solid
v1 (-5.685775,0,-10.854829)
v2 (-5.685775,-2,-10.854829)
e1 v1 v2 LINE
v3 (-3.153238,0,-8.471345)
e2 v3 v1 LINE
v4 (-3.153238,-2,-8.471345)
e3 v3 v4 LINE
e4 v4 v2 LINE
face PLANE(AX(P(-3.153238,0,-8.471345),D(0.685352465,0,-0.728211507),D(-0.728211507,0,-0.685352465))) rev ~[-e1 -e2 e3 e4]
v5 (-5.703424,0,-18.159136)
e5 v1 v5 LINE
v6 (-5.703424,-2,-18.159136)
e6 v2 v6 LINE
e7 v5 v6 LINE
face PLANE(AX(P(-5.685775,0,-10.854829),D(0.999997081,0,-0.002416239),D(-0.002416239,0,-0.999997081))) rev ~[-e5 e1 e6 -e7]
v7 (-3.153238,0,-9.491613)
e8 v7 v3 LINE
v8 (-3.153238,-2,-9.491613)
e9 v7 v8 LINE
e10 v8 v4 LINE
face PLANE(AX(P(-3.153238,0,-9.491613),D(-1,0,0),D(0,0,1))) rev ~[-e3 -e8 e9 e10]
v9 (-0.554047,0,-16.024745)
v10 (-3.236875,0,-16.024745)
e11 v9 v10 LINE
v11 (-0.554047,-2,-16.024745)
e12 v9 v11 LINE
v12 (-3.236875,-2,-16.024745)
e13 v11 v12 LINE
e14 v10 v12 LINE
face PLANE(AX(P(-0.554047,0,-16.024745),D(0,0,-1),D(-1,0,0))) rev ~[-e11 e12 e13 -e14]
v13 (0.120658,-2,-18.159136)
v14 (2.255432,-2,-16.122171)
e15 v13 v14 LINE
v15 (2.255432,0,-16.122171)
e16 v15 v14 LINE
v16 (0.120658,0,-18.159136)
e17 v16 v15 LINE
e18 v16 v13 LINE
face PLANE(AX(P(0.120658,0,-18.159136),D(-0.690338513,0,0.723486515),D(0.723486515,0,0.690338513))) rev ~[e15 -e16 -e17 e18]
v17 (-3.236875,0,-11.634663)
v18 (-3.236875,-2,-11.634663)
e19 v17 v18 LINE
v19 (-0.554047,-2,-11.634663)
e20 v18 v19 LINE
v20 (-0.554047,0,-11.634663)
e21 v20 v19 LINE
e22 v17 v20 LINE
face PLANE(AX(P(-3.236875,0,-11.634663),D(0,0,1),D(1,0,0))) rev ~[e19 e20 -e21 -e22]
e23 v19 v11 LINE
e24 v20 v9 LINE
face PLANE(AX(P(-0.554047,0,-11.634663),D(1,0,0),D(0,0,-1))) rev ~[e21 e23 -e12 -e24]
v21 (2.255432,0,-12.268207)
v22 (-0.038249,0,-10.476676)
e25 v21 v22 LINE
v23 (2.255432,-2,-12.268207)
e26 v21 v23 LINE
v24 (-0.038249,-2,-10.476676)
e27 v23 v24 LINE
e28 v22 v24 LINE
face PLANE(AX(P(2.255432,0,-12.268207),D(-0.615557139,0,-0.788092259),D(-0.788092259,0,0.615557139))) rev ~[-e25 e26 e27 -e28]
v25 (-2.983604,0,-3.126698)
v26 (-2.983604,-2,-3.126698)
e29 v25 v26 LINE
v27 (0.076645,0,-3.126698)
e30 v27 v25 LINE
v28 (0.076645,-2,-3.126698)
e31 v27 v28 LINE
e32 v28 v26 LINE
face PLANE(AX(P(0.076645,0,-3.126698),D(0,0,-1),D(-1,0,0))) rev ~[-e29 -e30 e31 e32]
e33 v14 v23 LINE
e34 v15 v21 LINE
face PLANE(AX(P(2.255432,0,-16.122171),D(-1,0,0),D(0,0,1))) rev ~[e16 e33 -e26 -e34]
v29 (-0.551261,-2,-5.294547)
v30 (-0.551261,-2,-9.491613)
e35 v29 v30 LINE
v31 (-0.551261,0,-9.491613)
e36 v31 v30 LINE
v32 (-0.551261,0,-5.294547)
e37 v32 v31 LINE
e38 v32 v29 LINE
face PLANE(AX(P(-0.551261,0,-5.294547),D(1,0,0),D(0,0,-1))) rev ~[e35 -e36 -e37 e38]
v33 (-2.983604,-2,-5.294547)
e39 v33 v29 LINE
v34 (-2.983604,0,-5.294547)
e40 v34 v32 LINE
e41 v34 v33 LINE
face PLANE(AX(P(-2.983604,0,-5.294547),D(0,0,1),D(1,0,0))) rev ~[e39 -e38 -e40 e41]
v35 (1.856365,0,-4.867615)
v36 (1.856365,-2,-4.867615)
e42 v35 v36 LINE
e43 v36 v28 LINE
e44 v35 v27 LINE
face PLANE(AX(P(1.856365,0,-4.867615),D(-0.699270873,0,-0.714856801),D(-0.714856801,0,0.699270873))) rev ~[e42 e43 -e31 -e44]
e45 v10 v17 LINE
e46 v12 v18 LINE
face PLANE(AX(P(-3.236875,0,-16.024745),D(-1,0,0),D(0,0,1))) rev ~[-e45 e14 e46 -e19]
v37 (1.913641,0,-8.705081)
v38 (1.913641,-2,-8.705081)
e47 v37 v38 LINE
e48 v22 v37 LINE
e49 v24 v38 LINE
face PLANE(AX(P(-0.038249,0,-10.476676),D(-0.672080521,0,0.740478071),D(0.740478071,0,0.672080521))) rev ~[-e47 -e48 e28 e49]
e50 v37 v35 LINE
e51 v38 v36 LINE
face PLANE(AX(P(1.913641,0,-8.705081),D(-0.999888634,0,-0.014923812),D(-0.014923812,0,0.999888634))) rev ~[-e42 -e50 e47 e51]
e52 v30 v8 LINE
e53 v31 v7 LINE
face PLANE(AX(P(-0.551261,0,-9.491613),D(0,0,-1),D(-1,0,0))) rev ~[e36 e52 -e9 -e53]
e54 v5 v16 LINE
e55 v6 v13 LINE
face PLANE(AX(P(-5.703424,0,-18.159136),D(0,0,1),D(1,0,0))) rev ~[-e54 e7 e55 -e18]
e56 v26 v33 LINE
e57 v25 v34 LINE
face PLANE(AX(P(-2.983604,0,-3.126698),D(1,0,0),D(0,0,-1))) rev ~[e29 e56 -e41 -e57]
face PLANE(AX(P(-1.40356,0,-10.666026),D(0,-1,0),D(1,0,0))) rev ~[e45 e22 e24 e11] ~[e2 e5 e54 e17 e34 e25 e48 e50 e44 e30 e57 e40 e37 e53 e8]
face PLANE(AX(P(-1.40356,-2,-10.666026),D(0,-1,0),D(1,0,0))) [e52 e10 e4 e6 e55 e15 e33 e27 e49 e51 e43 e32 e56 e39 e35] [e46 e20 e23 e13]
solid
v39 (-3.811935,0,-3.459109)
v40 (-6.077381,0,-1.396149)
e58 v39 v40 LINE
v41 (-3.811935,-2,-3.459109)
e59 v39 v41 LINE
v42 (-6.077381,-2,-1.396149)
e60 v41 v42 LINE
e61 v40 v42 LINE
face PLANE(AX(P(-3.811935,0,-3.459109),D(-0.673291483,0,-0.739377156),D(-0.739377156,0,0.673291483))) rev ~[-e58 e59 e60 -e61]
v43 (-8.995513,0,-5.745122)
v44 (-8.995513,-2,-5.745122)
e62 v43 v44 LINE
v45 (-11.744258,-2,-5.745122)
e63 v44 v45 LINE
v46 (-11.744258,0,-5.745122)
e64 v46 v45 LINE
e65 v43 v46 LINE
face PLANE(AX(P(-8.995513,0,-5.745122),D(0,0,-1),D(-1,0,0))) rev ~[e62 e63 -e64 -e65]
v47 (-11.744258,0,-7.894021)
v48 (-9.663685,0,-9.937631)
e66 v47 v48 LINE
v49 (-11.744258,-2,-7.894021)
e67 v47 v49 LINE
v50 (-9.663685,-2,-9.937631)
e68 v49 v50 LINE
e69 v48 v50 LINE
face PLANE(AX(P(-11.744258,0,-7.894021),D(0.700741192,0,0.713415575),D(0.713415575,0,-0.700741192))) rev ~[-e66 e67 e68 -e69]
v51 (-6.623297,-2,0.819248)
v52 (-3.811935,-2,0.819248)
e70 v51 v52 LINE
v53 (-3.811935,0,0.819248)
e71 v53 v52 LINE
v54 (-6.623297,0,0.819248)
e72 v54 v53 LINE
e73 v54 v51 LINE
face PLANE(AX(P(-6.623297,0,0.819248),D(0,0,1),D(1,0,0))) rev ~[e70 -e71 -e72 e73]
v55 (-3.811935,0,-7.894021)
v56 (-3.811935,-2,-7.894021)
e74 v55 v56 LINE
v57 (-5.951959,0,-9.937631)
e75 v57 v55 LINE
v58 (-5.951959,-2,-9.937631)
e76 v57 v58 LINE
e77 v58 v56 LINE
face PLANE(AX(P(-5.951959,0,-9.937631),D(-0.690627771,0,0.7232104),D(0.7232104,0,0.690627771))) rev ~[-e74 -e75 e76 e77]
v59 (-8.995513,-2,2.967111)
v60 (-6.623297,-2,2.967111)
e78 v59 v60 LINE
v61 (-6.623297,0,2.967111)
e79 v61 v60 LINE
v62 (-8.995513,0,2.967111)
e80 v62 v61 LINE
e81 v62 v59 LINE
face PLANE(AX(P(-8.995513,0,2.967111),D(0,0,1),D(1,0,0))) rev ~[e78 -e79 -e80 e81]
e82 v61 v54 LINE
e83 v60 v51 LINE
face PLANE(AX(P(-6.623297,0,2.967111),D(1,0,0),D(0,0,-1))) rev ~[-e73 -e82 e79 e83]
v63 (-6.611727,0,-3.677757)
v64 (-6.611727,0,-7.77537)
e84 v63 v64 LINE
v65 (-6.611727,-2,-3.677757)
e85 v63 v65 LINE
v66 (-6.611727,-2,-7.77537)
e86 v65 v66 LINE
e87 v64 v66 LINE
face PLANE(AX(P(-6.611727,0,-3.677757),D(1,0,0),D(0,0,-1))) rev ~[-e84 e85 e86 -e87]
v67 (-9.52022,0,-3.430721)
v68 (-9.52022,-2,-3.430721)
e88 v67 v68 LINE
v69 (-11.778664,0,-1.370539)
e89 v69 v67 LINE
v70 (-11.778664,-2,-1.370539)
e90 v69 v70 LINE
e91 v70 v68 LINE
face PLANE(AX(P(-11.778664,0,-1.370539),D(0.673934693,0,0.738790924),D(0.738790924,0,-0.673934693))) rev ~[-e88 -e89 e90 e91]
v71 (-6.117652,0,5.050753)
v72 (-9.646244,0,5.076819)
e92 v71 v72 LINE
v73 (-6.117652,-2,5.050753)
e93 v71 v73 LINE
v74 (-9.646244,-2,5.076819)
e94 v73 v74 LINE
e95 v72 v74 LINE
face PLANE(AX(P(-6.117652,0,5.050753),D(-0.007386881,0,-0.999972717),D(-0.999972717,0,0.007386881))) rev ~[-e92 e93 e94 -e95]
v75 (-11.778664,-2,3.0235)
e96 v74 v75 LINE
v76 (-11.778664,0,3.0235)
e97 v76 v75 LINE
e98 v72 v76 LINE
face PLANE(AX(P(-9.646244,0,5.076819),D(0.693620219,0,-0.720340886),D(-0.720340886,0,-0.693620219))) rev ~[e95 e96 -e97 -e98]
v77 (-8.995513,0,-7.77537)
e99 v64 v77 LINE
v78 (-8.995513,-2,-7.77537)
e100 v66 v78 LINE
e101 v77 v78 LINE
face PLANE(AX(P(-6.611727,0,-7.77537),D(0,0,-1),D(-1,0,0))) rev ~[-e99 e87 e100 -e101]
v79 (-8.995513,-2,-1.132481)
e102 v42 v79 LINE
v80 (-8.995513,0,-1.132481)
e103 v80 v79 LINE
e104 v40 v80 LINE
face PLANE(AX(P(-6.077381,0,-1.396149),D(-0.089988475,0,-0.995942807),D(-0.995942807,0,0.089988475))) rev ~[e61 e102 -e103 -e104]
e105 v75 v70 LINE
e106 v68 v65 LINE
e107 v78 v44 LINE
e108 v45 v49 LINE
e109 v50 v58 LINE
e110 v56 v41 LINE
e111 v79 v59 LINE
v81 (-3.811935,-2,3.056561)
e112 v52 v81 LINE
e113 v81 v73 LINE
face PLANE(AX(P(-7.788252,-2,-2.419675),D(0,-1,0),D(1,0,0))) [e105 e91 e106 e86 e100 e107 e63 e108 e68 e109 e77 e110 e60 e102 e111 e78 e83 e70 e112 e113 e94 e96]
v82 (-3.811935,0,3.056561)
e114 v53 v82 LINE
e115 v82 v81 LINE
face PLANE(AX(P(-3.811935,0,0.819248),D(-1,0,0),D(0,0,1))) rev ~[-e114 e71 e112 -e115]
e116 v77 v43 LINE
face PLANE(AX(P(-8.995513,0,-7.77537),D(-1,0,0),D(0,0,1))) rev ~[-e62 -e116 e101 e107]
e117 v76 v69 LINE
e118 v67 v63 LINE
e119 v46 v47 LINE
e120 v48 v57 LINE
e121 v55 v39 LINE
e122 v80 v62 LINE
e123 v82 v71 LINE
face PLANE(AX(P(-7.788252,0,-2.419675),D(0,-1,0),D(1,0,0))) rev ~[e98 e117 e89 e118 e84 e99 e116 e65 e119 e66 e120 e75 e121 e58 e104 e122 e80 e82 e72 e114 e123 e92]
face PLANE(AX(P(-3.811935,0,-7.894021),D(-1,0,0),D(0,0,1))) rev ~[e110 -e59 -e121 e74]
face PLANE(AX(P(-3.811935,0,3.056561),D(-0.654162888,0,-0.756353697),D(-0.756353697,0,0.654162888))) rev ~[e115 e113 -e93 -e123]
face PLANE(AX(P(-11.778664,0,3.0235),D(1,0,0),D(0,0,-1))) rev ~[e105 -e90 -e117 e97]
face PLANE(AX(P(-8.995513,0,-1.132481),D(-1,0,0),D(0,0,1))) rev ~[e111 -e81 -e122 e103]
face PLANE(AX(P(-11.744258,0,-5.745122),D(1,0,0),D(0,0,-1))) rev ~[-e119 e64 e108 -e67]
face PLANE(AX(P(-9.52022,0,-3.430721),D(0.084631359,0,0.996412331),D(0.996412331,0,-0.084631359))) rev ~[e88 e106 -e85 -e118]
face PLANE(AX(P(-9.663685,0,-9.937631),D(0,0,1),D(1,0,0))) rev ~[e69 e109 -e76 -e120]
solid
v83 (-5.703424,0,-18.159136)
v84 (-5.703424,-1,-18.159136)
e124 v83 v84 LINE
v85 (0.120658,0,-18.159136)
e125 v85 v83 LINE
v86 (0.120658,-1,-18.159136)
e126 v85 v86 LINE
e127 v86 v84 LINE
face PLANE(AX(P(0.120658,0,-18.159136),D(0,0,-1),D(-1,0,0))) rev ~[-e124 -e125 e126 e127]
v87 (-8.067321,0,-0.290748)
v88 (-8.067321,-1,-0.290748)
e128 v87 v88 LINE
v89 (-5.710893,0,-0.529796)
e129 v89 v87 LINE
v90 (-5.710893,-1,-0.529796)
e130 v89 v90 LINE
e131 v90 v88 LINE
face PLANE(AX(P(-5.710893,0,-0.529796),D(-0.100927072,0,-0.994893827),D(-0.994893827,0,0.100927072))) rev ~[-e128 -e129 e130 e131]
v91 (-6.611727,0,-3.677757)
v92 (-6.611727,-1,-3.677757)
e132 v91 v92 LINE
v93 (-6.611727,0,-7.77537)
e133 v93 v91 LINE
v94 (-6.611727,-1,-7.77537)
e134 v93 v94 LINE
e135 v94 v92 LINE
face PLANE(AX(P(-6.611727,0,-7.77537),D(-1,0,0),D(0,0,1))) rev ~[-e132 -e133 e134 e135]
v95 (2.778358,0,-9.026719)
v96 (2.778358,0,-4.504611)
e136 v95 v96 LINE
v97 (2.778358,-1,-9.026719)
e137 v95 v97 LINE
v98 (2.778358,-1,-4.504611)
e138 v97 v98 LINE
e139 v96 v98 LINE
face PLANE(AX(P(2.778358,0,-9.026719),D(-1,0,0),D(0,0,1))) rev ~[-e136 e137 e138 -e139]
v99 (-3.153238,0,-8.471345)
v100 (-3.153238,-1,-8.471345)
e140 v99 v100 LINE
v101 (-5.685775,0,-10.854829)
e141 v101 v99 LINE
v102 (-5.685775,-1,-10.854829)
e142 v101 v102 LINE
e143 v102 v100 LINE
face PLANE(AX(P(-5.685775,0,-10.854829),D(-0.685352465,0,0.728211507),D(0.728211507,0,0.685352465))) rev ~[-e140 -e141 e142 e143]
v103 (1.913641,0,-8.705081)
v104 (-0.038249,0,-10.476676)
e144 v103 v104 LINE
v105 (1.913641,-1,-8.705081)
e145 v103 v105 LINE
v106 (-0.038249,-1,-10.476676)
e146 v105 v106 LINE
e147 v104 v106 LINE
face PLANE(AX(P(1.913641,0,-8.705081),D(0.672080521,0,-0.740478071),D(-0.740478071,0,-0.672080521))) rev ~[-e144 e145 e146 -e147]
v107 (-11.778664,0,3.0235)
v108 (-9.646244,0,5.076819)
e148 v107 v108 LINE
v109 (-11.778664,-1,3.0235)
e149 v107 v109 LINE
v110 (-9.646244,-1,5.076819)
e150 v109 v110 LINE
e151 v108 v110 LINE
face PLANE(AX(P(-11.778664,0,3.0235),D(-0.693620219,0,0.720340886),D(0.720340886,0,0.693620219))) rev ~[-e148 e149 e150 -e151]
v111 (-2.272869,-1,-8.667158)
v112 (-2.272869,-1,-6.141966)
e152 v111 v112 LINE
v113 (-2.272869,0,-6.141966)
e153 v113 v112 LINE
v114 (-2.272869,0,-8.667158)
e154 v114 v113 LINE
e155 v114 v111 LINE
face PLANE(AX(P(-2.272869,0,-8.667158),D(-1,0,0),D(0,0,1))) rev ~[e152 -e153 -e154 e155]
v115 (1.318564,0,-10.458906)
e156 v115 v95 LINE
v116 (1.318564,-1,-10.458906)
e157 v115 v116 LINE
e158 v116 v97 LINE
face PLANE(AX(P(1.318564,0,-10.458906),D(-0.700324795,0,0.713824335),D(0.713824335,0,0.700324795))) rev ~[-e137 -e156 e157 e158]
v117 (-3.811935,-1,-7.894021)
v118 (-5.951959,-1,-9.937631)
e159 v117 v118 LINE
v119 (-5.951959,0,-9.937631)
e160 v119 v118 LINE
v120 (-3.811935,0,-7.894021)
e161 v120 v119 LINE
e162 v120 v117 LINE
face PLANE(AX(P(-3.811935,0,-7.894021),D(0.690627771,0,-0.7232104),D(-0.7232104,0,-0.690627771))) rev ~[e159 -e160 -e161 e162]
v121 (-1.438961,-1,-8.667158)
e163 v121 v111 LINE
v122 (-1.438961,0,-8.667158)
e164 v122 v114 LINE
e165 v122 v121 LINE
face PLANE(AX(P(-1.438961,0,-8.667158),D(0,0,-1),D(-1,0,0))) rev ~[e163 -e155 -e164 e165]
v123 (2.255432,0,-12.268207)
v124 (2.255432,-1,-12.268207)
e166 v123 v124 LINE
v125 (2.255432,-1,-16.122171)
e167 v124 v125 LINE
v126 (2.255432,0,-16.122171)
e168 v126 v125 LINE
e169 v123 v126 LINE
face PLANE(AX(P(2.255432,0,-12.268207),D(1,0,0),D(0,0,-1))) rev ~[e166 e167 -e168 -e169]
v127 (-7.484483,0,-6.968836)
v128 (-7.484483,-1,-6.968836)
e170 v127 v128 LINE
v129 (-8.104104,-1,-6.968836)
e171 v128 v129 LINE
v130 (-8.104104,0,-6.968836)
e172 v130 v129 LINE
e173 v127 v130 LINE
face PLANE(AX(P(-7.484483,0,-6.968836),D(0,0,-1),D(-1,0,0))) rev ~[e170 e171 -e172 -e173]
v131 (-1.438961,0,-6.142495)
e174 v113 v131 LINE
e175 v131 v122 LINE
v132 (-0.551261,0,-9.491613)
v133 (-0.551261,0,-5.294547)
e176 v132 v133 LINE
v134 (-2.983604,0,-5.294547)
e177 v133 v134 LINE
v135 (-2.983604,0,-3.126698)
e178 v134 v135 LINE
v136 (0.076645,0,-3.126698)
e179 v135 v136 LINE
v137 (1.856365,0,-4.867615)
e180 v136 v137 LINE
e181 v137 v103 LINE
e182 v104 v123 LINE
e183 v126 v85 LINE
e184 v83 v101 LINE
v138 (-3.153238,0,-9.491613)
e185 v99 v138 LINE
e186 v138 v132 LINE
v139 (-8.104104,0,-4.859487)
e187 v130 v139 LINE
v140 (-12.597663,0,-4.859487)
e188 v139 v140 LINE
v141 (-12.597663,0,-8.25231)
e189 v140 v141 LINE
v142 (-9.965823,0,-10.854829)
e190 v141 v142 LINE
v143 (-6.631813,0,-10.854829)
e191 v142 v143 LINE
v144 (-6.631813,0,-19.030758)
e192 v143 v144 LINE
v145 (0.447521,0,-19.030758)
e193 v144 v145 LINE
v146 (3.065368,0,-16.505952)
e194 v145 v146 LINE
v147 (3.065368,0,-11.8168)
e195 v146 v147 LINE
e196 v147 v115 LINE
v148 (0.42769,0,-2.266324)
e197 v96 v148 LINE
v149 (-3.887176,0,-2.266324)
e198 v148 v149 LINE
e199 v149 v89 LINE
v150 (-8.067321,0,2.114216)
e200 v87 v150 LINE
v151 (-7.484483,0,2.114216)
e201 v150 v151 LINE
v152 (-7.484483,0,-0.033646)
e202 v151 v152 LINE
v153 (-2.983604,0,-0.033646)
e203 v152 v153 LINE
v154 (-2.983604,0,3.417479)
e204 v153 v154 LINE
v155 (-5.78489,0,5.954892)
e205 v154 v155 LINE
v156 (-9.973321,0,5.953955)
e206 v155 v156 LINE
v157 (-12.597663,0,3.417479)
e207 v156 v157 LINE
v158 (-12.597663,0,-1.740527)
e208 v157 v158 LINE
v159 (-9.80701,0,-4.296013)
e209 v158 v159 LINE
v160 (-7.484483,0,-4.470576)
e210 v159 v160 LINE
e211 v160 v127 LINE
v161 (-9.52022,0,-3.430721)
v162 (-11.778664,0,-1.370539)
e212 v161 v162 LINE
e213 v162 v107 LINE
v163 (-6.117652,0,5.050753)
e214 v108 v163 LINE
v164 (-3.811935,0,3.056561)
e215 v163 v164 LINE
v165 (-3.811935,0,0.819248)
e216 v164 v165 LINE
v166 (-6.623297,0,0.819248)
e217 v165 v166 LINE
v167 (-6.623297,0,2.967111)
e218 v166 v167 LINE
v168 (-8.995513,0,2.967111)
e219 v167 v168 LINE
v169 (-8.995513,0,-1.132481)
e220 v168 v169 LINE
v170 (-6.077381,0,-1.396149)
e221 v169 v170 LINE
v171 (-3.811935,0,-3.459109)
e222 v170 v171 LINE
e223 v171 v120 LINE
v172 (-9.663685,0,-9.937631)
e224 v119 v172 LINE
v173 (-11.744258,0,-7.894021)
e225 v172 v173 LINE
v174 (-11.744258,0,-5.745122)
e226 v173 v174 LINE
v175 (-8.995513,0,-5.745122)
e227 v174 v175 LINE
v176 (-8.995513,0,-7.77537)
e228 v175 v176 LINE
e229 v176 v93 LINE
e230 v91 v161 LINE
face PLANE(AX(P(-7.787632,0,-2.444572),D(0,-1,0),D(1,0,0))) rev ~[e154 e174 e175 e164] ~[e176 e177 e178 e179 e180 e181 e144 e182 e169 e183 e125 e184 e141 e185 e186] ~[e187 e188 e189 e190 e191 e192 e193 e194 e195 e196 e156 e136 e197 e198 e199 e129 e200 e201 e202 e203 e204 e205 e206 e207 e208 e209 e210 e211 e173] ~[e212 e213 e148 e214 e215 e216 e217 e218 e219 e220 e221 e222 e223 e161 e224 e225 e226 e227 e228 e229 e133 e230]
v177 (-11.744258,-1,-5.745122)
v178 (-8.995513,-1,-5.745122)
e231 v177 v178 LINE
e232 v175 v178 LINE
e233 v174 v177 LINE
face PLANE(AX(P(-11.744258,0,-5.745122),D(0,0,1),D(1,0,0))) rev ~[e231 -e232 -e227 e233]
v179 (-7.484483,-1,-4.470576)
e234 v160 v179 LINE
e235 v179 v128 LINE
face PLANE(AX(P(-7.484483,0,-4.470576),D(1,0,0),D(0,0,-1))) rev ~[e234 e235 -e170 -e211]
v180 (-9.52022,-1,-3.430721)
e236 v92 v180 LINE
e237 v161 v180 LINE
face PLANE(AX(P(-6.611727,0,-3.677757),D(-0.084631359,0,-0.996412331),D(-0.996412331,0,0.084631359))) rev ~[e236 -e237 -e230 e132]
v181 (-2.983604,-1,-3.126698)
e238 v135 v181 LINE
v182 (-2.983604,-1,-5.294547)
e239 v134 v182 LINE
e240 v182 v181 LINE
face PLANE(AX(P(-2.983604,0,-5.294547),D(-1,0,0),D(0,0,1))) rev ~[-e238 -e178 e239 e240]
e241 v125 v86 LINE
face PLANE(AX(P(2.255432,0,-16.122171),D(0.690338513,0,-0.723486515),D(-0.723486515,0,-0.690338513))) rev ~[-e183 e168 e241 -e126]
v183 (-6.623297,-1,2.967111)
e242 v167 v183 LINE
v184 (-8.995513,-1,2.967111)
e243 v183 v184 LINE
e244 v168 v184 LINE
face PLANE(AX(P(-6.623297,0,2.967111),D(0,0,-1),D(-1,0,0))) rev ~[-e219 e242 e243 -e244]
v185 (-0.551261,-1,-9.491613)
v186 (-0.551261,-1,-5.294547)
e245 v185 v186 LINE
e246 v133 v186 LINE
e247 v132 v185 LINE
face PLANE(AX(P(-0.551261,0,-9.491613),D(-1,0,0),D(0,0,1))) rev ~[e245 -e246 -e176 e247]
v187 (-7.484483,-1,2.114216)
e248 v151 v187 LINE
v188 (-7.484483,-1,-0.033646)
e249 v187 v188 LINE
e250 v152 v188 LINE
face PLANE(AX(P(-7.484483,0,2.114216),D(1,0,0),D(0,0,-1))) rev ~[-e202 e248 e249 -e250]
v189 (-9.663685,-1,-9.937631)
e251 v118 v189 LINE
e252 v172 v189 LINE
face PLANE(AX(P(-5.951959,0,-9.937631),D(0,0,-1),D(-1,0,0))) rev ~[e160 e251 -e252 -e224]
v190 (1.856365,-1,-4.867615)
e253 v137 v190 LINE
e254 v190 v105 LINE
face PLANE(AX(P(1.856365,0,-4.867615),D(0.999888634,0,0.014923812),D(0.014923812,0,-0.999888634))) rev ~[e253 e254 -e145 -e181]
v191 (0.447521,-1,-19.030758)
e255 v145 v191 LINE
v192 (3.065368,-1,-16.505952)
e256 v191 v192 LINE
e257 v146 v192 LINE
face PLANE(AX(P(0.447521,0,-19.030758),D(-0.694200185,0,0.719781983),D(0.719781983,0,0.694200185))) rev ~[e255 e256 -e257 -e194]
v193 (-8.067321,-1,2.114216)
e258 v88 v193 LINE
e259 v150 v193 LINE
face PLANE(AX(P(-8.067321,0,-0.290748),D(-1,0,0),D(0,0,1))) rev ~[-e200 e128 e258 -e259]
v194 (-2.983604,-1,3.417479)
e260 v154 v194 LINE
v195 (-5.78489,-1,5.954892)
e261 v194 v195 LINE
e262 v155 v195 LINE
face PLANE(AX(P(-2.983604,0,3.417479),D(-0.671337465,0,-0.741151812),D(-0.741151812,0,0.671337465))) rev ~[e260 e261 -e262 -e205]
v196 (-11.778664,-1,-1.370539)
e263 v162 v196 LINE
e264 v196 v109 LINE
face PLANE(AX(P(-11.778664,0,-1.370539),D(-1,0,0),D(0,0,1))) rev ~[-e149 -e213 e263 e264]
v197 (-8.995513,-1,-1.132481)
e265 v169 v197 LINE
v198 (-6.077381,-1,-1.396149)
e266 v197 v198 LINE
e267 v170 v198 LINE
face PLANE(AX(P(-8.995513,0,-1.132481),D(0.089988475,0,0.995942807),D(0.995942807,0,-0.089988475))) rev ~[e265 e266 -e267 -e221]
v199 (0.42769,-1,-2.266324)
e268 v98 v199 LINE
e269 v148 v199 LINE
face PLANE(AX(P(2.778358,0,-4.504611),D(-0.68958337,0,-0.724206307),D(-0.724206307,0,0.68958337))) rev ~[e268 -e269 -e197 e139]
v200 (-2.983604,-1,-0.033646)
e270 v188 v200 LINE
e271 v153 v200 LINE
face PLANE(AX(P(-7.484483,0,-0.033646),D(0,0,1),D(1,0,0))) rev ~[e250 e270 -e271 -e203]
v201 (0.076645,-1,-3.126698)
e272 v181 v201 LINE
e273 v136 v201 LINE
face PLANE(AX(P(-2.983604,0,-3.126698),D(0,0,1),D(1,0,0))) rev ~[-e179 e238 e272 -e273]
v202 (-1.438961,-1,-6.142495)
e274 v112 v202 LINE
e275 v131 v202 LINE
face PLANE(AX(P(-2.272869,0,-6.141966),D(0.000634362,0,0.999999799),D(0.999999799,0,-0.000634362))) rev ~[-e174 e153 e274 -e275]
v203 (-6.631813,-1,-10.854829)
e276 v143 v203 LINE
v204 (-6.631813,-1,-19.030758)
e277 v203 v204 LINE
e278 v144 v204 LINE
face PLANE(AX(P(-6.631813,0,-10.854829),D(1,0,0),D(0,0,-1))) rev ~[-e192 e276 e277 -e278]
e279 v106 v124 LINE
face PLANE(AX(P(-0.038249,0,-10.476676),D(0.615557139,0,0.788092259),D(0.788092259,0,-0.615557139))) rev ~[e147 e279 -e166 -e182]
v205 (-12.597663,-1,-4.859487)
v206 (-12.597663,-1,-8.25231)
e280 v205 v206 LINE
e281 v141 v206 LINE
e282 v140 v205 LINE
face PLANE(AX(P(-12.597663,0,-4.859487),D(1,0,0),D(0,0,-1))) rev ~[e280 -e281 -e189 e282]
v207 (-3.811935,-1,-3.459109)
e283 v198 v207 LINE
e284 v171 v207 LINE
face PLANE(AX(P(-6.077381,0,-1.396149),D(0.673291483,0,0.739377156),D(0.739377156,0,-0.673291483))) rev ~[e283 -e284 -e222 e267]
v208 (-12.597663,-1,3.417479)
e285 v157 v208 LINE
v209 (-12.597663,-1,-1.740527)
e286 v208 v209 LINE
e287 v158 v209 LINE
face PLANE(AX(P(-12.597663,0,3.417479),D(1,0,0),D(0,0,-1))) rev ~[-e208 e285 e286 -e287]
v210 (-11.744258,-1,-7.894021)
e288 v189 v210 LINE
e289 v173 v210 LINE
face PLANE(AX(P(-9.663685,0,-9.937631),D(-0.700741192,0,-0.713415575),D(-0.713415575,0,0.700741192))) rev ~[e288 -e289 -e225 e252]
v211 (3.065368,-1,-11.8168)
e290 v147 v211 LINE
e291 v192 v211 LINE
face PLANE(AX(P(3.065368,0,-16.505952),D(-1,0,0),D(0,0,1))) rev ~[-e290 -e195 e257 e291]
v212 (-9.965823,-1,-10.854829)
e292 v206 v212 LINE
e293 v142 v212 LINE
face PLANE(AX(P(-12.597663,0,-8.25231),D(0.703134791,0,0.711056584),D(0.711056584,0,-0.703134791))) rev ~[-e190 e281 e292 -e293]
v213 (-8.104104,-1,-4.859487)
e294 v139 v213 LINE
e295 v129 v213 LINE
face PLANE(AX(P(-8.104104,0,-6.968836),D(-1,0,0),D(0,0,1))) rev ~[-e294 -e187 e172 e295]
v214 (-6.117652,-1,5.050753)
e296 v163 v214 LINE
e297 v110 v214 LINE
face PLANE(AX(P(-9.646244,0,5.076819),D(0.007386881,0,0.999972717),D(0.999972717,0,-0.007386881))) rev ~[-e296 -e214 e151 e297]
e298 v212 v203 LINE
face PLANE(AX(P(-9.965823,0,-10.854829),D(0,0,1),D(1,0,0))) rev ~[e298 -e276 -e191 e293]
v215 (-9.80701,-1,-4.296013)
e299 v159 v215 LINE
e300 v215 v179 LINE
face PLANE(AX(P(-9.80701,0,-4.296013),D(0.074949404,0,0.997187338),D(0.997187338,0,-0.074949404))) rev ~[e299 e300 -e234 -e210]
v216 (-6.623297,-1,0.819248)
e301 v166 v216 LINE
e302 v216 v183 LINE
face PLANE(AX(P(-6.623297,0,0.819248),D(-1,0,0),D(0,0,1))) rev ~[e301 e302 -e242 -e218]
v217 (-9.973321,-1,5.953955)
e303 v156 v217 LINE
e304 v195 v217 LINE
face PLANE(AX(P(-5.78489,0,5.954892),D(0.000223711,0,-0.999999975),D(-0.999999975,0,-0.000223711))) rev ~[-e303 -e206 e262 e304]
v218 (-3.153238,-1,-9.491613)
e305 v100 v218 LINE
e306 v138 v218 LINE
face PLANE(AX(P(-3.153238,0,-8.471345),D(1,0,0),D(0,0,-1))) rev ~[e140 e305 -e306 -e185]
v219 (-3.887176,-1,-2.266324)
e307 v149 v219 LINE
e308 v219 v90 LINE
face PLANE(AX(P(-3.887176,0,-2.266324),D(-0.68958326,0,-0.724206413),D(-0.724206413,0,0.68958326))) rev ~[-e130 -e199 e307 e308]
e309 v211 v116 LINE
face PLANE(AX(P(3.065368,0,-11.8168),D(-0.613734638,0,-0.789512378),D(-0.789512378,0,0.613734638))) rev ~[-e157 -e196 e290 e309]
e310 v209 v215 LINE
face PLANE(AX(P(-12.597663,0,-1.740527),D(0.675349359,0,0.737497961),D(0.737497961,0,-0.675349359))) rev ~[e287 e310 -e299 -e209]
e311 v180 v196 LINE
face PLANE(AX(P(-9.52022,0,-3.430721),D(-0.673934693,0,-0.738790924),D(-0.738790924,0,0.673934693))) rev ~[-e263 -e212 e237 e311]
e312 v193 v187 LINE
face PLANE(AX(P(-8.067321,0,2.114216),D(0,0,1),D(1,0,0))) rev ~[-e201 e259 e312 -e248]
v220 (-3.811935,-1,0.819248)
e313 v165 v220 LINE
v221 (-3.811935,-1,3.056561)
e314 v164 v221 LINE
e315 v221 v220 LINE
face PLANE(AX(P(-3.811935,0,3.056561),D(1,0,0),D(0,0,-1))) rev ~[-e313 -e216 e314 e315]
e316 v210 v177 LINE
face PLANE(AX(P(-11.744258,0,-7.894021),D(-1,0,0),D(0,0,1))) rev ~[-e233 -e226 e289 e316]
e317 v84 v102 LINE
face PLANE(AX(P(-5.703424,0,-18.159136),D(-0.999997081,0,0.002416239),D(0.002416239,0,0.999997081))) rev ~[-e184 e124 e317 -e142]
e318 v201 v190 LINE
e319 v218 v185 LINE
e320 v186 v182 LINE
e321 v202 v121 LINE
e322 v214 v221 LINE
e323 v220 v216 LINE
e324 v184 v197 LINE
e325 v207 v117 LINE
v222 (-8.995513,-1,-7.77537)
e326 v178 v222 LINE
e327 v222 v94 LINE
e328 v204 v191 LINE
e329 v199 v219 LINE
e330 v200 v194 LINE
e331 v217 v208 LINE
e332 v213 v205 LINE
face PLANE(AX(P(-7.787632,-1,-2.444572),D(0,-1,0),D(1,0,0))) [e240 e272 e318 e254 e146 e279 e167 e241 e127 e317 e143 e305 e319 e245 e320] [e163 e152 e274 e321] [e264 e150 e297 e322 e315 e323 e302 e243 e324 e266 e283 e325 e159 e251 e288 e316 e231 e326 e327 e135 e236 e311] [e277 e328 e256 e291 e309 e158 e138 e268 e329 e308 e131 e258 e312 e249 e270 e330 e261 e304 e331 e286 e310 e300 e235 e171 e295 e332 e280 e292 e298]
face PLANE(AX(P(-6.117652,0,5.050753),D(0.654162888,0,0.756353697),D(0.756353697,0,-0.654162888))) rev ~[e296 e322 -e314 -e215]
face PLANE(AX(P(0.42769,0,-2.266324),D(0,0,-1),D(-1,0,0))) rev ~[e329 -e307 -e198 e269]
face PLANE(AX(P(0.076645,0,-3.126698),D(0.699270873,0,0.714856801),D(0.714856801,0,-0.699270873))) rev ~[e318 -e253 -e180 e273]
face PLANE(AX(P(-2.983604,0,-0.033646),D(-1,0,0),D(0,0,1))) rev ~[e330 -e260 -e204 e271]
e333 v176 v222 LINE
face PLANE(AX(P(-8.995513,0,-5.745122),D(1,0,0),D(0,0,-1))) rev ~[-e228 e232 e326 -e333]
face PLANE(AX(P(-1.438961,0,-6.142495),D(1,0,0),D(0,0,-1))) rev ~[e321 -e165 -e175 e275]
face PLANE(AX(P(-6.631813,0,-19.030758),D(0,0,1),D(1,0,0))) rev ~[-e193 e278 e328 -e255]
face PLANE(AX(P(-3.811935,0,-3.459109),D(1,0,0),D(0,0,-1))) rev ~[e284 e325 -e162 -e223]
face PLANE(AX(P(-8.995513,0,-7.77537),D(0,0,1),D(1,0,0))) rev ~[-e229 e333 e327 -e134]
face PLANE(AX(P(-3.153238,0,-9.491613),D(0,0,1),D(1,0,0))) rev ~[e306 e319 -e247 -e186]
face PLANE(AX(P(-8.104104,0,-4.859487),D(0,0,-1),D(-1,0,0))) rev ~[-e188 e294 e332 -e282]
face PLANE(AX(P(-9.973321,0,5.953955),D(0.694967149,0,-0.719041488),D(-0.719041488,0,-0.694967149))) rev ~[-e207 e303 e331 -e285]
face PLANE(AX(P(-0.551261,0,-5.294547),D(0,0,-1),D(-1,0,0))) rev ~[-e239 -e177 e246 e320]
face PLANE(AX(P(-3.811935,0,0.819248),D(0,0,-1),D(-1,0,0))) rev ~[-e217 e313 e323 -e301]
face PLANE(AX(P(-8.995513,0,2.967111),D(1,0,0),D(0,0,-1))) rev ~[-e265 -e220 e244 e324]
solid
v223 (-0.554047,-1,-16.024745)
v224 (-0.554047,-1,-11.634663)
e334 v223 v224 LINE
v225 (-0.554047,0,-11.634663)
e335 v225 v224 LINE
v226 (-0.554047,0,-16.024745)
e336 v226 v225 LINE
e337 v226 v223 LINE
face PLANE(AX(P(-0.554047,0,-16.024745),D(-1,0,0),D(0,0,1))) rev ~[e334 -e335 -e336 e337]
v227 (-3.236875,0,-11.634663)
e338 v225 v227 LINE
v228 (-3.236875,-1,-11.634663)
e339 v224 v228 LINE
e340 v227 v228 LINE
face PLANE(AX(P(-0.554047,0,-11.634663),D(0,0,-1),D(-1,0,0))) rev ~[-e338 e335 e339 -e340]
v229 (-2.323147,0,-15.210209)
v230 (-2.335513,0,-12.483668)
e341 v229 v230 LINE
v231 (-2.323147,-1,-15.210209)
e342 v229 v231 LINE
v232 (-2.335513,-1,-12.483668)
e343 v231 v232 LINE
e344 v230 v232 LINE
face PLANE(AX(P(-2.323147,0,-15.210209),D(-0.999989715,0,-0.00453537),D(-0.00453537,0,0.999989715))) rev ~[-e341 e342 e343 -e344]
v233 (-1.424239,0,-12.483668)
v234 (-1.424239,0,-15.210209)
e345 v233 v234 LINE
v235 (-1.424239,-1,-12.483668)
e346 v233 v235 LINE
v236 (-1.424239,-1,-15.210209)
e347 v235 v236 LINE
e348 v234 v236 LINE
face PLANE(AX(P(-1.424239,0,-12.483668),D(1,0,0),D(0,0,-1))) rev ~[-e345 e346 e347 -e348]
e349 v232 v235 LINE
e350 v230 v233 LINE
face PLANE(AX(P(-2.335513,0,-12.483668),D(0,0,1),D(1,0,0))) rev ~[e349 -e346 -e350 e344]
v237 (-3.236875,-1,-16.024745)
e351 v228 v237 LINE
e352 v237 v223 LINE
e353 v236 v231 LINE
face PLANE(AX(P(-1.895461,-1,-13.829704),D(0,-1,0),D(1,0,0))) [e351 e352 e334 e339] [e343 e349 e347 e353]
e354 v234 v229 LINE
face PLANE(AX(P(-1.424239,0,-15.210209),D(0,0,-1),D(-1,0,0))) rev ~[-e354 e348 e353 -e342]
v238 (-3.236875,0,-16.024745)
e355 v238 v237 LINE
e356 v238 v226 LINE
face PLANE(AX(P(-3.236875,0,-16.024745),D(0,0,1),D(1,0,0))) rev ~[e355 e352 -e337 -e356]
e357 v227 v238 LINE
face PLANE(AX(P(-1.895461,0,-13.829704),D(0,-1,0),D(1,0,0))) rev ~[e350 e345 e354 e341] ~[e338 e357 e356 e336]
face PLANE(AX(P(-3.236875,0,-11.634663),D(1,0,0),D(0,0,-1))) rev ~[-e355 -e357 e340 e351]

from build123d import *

# Parameters (mm, degrees)
F1_DEPTH = 2
F2_DEPTH = 1


with BuildPart() as f1:
    # F0 (on Front) → F1 (new body)
    with BuildSketch(Plane.XZ):
        Polygon((-6.117652, 5.050753), (-9.646244, 5.076819), (-11.778664, 3.0235), (-11.778664, -1.370539), (-9.52022, -3.430721), (-6.611727, -3.677757), (-6.611727, -7.77537), (-8.995513, -7.77537), (-8.995513, -5.745122), (-11.744258, -5.745122), (-11.744258, -7.894021), (-9.663685, -9.937631), (-5.951959, -9.937631), (-3.811935, -7.894021), (-3.811935, -3.459109), (-6.077381, -1.396149), (-8.995513, -1.132481), (-8.995513, 2.967111), (-6.623297, 2.967111), (-6.623297, 0.819248), (-3.811935, 0.819248), (-3.811935, 3.056561), align=None)
        Polygon((0.076645, -3.126698), (-2.983604, -3.126698), (-2.983604, -5.294547), (-0.551261, -5.294547), (-0.551261, -9.491613), (-3.153238, -9.491613), (-3.153238, -8.471345), (-5.685775, -10.854829), (-5.703424, -18.159136), (0.120658, -18.159136), (2.255432, -16.122171), (2.255432, -12.268207), (-0.038249, -10.476676), (1.913641, -8.705081), (1.856365, -4.867615), align=None)
        Polygon((-3.236875, -11.634663), (-3.197325, -11.634663), (-3.188428, -11.634663), (-0.554047, -11.634663), (-0.554047, -16.024745), (-3.236875, -16.024745), align=None, mode=Mode.SUBTRACT)
    extrude(amount=F1_DEPTH)


with BuildPart() as f2:
    # F0 (on Front) → F2 (new body)
    with BuildSketch(Plane.XZ):
        Polygon((-5.78489, 5.954892), (-9.973321, 5.953955), (-12.597663, 3.417479), (-12.597663, -1.740527), (-9.80701, -4.296013), (-7.484483, -4.470576), (-7.484483, -6.968836), (-8.104104, -6.968836), (-8.104104, -4.859487), (-12.597663, -4.859487), (-12.597663, -8.25231), (-9.965823, -10.854829), (-6.631813, -10.854829), (-5.685775, -10.854829), (-3.153238, -8.471345), (-2.983604, -8.311696), (-2.983604, -5.294547), (-2.983604, -3.126698), (-3.887176, -2.266324), (-5.710893, -0.529796), (-8.067321, -0.290748), (-8.067321, 2.114216), (-7.484483, 2.114216), (-7.484483, -0.033646), (-2.983604, -0.033646), (-2.983604, 3.417479), align=None)
        Polygon((-11.778664, 3.0235), (-9.646244, 5.076819), (-6.117652, 5.050753), (-3.811935, 3.056561), (-3.811935, 0.819248), (-6.623297, 0.819248), (-6.623297, 2.967111), (-8.995513, 2.967111), (-8.995513, -1.132481), (-6.077381, -1.396149), (-3.811935, -3.459109), (-3.811935, -7.894021), (-5.951959, -9.937631), (-9.663685, -9.937631), (-11.744258, -7.894021), (-11.744258, -5.745122), (-8.995513, -5.745122), (-8.995513, -7.77537), (-6.611727, -7.77537), (-6.611727, -3.677757), (-9.52022, -3.430721), (-11.778664, -1.370539), align=None, mode=Mode.SUBTRACT)
        Polygon((-0.551261, -5.294547), (-2.983604, -5.294547), (-2.983604, -8.311696), (-3.153238, -8.471345), (-3.153238, -9.491613), (-0.551261, -9.491613), align=None)
        Polygon((-2.272869, -8.667158), (-2.272869, -6.141966), (-1.438961, -6.142495), (-1.438961, -8.667158), align=None, mode=Mode.SUBTRACT)
        Polygon((-3.188428, -11.634663), (-3.197325, -11.634663), (-3.236875, -11.634663), (-3.236875, -16.024745), (-0.554047, -16.024745), (-0.554047, -11.634663), align=None)
        Polygon((-2.323147, -15.210209), (-2.335513, -12.483668), (-1.424239, -12.483668), (-1.424239, -15.210209), align=None, mode=Mode.SUBTRACT)
        Polygon((0.42769, -2.266324), (-3.887176, -2.266324), (-2.983604, -3.126698), (0.076645, -3.126698), (1.856365, -4.867615), (1.913641, -8.705081), (-0.038249, -10.476676), (2.255432, -12.268207), (2.255432, -16.122171), (0.120658, -18.159136), (-5.703424, -18.159136), (-5.685775, -10.854829), (-6.631813, -10.854829), (-6.631813, -19.030758), (0.447521, -19.030758), (3.065368, -16.505952), (3.065368, -11.8168), (1.318564, -10.458906), (2.778358, -9.026719), (2.778358, -4.504611), align=None)
    extrude(amount=F2_DEPTH)


solid = Compound([f1.part, f2.part])
